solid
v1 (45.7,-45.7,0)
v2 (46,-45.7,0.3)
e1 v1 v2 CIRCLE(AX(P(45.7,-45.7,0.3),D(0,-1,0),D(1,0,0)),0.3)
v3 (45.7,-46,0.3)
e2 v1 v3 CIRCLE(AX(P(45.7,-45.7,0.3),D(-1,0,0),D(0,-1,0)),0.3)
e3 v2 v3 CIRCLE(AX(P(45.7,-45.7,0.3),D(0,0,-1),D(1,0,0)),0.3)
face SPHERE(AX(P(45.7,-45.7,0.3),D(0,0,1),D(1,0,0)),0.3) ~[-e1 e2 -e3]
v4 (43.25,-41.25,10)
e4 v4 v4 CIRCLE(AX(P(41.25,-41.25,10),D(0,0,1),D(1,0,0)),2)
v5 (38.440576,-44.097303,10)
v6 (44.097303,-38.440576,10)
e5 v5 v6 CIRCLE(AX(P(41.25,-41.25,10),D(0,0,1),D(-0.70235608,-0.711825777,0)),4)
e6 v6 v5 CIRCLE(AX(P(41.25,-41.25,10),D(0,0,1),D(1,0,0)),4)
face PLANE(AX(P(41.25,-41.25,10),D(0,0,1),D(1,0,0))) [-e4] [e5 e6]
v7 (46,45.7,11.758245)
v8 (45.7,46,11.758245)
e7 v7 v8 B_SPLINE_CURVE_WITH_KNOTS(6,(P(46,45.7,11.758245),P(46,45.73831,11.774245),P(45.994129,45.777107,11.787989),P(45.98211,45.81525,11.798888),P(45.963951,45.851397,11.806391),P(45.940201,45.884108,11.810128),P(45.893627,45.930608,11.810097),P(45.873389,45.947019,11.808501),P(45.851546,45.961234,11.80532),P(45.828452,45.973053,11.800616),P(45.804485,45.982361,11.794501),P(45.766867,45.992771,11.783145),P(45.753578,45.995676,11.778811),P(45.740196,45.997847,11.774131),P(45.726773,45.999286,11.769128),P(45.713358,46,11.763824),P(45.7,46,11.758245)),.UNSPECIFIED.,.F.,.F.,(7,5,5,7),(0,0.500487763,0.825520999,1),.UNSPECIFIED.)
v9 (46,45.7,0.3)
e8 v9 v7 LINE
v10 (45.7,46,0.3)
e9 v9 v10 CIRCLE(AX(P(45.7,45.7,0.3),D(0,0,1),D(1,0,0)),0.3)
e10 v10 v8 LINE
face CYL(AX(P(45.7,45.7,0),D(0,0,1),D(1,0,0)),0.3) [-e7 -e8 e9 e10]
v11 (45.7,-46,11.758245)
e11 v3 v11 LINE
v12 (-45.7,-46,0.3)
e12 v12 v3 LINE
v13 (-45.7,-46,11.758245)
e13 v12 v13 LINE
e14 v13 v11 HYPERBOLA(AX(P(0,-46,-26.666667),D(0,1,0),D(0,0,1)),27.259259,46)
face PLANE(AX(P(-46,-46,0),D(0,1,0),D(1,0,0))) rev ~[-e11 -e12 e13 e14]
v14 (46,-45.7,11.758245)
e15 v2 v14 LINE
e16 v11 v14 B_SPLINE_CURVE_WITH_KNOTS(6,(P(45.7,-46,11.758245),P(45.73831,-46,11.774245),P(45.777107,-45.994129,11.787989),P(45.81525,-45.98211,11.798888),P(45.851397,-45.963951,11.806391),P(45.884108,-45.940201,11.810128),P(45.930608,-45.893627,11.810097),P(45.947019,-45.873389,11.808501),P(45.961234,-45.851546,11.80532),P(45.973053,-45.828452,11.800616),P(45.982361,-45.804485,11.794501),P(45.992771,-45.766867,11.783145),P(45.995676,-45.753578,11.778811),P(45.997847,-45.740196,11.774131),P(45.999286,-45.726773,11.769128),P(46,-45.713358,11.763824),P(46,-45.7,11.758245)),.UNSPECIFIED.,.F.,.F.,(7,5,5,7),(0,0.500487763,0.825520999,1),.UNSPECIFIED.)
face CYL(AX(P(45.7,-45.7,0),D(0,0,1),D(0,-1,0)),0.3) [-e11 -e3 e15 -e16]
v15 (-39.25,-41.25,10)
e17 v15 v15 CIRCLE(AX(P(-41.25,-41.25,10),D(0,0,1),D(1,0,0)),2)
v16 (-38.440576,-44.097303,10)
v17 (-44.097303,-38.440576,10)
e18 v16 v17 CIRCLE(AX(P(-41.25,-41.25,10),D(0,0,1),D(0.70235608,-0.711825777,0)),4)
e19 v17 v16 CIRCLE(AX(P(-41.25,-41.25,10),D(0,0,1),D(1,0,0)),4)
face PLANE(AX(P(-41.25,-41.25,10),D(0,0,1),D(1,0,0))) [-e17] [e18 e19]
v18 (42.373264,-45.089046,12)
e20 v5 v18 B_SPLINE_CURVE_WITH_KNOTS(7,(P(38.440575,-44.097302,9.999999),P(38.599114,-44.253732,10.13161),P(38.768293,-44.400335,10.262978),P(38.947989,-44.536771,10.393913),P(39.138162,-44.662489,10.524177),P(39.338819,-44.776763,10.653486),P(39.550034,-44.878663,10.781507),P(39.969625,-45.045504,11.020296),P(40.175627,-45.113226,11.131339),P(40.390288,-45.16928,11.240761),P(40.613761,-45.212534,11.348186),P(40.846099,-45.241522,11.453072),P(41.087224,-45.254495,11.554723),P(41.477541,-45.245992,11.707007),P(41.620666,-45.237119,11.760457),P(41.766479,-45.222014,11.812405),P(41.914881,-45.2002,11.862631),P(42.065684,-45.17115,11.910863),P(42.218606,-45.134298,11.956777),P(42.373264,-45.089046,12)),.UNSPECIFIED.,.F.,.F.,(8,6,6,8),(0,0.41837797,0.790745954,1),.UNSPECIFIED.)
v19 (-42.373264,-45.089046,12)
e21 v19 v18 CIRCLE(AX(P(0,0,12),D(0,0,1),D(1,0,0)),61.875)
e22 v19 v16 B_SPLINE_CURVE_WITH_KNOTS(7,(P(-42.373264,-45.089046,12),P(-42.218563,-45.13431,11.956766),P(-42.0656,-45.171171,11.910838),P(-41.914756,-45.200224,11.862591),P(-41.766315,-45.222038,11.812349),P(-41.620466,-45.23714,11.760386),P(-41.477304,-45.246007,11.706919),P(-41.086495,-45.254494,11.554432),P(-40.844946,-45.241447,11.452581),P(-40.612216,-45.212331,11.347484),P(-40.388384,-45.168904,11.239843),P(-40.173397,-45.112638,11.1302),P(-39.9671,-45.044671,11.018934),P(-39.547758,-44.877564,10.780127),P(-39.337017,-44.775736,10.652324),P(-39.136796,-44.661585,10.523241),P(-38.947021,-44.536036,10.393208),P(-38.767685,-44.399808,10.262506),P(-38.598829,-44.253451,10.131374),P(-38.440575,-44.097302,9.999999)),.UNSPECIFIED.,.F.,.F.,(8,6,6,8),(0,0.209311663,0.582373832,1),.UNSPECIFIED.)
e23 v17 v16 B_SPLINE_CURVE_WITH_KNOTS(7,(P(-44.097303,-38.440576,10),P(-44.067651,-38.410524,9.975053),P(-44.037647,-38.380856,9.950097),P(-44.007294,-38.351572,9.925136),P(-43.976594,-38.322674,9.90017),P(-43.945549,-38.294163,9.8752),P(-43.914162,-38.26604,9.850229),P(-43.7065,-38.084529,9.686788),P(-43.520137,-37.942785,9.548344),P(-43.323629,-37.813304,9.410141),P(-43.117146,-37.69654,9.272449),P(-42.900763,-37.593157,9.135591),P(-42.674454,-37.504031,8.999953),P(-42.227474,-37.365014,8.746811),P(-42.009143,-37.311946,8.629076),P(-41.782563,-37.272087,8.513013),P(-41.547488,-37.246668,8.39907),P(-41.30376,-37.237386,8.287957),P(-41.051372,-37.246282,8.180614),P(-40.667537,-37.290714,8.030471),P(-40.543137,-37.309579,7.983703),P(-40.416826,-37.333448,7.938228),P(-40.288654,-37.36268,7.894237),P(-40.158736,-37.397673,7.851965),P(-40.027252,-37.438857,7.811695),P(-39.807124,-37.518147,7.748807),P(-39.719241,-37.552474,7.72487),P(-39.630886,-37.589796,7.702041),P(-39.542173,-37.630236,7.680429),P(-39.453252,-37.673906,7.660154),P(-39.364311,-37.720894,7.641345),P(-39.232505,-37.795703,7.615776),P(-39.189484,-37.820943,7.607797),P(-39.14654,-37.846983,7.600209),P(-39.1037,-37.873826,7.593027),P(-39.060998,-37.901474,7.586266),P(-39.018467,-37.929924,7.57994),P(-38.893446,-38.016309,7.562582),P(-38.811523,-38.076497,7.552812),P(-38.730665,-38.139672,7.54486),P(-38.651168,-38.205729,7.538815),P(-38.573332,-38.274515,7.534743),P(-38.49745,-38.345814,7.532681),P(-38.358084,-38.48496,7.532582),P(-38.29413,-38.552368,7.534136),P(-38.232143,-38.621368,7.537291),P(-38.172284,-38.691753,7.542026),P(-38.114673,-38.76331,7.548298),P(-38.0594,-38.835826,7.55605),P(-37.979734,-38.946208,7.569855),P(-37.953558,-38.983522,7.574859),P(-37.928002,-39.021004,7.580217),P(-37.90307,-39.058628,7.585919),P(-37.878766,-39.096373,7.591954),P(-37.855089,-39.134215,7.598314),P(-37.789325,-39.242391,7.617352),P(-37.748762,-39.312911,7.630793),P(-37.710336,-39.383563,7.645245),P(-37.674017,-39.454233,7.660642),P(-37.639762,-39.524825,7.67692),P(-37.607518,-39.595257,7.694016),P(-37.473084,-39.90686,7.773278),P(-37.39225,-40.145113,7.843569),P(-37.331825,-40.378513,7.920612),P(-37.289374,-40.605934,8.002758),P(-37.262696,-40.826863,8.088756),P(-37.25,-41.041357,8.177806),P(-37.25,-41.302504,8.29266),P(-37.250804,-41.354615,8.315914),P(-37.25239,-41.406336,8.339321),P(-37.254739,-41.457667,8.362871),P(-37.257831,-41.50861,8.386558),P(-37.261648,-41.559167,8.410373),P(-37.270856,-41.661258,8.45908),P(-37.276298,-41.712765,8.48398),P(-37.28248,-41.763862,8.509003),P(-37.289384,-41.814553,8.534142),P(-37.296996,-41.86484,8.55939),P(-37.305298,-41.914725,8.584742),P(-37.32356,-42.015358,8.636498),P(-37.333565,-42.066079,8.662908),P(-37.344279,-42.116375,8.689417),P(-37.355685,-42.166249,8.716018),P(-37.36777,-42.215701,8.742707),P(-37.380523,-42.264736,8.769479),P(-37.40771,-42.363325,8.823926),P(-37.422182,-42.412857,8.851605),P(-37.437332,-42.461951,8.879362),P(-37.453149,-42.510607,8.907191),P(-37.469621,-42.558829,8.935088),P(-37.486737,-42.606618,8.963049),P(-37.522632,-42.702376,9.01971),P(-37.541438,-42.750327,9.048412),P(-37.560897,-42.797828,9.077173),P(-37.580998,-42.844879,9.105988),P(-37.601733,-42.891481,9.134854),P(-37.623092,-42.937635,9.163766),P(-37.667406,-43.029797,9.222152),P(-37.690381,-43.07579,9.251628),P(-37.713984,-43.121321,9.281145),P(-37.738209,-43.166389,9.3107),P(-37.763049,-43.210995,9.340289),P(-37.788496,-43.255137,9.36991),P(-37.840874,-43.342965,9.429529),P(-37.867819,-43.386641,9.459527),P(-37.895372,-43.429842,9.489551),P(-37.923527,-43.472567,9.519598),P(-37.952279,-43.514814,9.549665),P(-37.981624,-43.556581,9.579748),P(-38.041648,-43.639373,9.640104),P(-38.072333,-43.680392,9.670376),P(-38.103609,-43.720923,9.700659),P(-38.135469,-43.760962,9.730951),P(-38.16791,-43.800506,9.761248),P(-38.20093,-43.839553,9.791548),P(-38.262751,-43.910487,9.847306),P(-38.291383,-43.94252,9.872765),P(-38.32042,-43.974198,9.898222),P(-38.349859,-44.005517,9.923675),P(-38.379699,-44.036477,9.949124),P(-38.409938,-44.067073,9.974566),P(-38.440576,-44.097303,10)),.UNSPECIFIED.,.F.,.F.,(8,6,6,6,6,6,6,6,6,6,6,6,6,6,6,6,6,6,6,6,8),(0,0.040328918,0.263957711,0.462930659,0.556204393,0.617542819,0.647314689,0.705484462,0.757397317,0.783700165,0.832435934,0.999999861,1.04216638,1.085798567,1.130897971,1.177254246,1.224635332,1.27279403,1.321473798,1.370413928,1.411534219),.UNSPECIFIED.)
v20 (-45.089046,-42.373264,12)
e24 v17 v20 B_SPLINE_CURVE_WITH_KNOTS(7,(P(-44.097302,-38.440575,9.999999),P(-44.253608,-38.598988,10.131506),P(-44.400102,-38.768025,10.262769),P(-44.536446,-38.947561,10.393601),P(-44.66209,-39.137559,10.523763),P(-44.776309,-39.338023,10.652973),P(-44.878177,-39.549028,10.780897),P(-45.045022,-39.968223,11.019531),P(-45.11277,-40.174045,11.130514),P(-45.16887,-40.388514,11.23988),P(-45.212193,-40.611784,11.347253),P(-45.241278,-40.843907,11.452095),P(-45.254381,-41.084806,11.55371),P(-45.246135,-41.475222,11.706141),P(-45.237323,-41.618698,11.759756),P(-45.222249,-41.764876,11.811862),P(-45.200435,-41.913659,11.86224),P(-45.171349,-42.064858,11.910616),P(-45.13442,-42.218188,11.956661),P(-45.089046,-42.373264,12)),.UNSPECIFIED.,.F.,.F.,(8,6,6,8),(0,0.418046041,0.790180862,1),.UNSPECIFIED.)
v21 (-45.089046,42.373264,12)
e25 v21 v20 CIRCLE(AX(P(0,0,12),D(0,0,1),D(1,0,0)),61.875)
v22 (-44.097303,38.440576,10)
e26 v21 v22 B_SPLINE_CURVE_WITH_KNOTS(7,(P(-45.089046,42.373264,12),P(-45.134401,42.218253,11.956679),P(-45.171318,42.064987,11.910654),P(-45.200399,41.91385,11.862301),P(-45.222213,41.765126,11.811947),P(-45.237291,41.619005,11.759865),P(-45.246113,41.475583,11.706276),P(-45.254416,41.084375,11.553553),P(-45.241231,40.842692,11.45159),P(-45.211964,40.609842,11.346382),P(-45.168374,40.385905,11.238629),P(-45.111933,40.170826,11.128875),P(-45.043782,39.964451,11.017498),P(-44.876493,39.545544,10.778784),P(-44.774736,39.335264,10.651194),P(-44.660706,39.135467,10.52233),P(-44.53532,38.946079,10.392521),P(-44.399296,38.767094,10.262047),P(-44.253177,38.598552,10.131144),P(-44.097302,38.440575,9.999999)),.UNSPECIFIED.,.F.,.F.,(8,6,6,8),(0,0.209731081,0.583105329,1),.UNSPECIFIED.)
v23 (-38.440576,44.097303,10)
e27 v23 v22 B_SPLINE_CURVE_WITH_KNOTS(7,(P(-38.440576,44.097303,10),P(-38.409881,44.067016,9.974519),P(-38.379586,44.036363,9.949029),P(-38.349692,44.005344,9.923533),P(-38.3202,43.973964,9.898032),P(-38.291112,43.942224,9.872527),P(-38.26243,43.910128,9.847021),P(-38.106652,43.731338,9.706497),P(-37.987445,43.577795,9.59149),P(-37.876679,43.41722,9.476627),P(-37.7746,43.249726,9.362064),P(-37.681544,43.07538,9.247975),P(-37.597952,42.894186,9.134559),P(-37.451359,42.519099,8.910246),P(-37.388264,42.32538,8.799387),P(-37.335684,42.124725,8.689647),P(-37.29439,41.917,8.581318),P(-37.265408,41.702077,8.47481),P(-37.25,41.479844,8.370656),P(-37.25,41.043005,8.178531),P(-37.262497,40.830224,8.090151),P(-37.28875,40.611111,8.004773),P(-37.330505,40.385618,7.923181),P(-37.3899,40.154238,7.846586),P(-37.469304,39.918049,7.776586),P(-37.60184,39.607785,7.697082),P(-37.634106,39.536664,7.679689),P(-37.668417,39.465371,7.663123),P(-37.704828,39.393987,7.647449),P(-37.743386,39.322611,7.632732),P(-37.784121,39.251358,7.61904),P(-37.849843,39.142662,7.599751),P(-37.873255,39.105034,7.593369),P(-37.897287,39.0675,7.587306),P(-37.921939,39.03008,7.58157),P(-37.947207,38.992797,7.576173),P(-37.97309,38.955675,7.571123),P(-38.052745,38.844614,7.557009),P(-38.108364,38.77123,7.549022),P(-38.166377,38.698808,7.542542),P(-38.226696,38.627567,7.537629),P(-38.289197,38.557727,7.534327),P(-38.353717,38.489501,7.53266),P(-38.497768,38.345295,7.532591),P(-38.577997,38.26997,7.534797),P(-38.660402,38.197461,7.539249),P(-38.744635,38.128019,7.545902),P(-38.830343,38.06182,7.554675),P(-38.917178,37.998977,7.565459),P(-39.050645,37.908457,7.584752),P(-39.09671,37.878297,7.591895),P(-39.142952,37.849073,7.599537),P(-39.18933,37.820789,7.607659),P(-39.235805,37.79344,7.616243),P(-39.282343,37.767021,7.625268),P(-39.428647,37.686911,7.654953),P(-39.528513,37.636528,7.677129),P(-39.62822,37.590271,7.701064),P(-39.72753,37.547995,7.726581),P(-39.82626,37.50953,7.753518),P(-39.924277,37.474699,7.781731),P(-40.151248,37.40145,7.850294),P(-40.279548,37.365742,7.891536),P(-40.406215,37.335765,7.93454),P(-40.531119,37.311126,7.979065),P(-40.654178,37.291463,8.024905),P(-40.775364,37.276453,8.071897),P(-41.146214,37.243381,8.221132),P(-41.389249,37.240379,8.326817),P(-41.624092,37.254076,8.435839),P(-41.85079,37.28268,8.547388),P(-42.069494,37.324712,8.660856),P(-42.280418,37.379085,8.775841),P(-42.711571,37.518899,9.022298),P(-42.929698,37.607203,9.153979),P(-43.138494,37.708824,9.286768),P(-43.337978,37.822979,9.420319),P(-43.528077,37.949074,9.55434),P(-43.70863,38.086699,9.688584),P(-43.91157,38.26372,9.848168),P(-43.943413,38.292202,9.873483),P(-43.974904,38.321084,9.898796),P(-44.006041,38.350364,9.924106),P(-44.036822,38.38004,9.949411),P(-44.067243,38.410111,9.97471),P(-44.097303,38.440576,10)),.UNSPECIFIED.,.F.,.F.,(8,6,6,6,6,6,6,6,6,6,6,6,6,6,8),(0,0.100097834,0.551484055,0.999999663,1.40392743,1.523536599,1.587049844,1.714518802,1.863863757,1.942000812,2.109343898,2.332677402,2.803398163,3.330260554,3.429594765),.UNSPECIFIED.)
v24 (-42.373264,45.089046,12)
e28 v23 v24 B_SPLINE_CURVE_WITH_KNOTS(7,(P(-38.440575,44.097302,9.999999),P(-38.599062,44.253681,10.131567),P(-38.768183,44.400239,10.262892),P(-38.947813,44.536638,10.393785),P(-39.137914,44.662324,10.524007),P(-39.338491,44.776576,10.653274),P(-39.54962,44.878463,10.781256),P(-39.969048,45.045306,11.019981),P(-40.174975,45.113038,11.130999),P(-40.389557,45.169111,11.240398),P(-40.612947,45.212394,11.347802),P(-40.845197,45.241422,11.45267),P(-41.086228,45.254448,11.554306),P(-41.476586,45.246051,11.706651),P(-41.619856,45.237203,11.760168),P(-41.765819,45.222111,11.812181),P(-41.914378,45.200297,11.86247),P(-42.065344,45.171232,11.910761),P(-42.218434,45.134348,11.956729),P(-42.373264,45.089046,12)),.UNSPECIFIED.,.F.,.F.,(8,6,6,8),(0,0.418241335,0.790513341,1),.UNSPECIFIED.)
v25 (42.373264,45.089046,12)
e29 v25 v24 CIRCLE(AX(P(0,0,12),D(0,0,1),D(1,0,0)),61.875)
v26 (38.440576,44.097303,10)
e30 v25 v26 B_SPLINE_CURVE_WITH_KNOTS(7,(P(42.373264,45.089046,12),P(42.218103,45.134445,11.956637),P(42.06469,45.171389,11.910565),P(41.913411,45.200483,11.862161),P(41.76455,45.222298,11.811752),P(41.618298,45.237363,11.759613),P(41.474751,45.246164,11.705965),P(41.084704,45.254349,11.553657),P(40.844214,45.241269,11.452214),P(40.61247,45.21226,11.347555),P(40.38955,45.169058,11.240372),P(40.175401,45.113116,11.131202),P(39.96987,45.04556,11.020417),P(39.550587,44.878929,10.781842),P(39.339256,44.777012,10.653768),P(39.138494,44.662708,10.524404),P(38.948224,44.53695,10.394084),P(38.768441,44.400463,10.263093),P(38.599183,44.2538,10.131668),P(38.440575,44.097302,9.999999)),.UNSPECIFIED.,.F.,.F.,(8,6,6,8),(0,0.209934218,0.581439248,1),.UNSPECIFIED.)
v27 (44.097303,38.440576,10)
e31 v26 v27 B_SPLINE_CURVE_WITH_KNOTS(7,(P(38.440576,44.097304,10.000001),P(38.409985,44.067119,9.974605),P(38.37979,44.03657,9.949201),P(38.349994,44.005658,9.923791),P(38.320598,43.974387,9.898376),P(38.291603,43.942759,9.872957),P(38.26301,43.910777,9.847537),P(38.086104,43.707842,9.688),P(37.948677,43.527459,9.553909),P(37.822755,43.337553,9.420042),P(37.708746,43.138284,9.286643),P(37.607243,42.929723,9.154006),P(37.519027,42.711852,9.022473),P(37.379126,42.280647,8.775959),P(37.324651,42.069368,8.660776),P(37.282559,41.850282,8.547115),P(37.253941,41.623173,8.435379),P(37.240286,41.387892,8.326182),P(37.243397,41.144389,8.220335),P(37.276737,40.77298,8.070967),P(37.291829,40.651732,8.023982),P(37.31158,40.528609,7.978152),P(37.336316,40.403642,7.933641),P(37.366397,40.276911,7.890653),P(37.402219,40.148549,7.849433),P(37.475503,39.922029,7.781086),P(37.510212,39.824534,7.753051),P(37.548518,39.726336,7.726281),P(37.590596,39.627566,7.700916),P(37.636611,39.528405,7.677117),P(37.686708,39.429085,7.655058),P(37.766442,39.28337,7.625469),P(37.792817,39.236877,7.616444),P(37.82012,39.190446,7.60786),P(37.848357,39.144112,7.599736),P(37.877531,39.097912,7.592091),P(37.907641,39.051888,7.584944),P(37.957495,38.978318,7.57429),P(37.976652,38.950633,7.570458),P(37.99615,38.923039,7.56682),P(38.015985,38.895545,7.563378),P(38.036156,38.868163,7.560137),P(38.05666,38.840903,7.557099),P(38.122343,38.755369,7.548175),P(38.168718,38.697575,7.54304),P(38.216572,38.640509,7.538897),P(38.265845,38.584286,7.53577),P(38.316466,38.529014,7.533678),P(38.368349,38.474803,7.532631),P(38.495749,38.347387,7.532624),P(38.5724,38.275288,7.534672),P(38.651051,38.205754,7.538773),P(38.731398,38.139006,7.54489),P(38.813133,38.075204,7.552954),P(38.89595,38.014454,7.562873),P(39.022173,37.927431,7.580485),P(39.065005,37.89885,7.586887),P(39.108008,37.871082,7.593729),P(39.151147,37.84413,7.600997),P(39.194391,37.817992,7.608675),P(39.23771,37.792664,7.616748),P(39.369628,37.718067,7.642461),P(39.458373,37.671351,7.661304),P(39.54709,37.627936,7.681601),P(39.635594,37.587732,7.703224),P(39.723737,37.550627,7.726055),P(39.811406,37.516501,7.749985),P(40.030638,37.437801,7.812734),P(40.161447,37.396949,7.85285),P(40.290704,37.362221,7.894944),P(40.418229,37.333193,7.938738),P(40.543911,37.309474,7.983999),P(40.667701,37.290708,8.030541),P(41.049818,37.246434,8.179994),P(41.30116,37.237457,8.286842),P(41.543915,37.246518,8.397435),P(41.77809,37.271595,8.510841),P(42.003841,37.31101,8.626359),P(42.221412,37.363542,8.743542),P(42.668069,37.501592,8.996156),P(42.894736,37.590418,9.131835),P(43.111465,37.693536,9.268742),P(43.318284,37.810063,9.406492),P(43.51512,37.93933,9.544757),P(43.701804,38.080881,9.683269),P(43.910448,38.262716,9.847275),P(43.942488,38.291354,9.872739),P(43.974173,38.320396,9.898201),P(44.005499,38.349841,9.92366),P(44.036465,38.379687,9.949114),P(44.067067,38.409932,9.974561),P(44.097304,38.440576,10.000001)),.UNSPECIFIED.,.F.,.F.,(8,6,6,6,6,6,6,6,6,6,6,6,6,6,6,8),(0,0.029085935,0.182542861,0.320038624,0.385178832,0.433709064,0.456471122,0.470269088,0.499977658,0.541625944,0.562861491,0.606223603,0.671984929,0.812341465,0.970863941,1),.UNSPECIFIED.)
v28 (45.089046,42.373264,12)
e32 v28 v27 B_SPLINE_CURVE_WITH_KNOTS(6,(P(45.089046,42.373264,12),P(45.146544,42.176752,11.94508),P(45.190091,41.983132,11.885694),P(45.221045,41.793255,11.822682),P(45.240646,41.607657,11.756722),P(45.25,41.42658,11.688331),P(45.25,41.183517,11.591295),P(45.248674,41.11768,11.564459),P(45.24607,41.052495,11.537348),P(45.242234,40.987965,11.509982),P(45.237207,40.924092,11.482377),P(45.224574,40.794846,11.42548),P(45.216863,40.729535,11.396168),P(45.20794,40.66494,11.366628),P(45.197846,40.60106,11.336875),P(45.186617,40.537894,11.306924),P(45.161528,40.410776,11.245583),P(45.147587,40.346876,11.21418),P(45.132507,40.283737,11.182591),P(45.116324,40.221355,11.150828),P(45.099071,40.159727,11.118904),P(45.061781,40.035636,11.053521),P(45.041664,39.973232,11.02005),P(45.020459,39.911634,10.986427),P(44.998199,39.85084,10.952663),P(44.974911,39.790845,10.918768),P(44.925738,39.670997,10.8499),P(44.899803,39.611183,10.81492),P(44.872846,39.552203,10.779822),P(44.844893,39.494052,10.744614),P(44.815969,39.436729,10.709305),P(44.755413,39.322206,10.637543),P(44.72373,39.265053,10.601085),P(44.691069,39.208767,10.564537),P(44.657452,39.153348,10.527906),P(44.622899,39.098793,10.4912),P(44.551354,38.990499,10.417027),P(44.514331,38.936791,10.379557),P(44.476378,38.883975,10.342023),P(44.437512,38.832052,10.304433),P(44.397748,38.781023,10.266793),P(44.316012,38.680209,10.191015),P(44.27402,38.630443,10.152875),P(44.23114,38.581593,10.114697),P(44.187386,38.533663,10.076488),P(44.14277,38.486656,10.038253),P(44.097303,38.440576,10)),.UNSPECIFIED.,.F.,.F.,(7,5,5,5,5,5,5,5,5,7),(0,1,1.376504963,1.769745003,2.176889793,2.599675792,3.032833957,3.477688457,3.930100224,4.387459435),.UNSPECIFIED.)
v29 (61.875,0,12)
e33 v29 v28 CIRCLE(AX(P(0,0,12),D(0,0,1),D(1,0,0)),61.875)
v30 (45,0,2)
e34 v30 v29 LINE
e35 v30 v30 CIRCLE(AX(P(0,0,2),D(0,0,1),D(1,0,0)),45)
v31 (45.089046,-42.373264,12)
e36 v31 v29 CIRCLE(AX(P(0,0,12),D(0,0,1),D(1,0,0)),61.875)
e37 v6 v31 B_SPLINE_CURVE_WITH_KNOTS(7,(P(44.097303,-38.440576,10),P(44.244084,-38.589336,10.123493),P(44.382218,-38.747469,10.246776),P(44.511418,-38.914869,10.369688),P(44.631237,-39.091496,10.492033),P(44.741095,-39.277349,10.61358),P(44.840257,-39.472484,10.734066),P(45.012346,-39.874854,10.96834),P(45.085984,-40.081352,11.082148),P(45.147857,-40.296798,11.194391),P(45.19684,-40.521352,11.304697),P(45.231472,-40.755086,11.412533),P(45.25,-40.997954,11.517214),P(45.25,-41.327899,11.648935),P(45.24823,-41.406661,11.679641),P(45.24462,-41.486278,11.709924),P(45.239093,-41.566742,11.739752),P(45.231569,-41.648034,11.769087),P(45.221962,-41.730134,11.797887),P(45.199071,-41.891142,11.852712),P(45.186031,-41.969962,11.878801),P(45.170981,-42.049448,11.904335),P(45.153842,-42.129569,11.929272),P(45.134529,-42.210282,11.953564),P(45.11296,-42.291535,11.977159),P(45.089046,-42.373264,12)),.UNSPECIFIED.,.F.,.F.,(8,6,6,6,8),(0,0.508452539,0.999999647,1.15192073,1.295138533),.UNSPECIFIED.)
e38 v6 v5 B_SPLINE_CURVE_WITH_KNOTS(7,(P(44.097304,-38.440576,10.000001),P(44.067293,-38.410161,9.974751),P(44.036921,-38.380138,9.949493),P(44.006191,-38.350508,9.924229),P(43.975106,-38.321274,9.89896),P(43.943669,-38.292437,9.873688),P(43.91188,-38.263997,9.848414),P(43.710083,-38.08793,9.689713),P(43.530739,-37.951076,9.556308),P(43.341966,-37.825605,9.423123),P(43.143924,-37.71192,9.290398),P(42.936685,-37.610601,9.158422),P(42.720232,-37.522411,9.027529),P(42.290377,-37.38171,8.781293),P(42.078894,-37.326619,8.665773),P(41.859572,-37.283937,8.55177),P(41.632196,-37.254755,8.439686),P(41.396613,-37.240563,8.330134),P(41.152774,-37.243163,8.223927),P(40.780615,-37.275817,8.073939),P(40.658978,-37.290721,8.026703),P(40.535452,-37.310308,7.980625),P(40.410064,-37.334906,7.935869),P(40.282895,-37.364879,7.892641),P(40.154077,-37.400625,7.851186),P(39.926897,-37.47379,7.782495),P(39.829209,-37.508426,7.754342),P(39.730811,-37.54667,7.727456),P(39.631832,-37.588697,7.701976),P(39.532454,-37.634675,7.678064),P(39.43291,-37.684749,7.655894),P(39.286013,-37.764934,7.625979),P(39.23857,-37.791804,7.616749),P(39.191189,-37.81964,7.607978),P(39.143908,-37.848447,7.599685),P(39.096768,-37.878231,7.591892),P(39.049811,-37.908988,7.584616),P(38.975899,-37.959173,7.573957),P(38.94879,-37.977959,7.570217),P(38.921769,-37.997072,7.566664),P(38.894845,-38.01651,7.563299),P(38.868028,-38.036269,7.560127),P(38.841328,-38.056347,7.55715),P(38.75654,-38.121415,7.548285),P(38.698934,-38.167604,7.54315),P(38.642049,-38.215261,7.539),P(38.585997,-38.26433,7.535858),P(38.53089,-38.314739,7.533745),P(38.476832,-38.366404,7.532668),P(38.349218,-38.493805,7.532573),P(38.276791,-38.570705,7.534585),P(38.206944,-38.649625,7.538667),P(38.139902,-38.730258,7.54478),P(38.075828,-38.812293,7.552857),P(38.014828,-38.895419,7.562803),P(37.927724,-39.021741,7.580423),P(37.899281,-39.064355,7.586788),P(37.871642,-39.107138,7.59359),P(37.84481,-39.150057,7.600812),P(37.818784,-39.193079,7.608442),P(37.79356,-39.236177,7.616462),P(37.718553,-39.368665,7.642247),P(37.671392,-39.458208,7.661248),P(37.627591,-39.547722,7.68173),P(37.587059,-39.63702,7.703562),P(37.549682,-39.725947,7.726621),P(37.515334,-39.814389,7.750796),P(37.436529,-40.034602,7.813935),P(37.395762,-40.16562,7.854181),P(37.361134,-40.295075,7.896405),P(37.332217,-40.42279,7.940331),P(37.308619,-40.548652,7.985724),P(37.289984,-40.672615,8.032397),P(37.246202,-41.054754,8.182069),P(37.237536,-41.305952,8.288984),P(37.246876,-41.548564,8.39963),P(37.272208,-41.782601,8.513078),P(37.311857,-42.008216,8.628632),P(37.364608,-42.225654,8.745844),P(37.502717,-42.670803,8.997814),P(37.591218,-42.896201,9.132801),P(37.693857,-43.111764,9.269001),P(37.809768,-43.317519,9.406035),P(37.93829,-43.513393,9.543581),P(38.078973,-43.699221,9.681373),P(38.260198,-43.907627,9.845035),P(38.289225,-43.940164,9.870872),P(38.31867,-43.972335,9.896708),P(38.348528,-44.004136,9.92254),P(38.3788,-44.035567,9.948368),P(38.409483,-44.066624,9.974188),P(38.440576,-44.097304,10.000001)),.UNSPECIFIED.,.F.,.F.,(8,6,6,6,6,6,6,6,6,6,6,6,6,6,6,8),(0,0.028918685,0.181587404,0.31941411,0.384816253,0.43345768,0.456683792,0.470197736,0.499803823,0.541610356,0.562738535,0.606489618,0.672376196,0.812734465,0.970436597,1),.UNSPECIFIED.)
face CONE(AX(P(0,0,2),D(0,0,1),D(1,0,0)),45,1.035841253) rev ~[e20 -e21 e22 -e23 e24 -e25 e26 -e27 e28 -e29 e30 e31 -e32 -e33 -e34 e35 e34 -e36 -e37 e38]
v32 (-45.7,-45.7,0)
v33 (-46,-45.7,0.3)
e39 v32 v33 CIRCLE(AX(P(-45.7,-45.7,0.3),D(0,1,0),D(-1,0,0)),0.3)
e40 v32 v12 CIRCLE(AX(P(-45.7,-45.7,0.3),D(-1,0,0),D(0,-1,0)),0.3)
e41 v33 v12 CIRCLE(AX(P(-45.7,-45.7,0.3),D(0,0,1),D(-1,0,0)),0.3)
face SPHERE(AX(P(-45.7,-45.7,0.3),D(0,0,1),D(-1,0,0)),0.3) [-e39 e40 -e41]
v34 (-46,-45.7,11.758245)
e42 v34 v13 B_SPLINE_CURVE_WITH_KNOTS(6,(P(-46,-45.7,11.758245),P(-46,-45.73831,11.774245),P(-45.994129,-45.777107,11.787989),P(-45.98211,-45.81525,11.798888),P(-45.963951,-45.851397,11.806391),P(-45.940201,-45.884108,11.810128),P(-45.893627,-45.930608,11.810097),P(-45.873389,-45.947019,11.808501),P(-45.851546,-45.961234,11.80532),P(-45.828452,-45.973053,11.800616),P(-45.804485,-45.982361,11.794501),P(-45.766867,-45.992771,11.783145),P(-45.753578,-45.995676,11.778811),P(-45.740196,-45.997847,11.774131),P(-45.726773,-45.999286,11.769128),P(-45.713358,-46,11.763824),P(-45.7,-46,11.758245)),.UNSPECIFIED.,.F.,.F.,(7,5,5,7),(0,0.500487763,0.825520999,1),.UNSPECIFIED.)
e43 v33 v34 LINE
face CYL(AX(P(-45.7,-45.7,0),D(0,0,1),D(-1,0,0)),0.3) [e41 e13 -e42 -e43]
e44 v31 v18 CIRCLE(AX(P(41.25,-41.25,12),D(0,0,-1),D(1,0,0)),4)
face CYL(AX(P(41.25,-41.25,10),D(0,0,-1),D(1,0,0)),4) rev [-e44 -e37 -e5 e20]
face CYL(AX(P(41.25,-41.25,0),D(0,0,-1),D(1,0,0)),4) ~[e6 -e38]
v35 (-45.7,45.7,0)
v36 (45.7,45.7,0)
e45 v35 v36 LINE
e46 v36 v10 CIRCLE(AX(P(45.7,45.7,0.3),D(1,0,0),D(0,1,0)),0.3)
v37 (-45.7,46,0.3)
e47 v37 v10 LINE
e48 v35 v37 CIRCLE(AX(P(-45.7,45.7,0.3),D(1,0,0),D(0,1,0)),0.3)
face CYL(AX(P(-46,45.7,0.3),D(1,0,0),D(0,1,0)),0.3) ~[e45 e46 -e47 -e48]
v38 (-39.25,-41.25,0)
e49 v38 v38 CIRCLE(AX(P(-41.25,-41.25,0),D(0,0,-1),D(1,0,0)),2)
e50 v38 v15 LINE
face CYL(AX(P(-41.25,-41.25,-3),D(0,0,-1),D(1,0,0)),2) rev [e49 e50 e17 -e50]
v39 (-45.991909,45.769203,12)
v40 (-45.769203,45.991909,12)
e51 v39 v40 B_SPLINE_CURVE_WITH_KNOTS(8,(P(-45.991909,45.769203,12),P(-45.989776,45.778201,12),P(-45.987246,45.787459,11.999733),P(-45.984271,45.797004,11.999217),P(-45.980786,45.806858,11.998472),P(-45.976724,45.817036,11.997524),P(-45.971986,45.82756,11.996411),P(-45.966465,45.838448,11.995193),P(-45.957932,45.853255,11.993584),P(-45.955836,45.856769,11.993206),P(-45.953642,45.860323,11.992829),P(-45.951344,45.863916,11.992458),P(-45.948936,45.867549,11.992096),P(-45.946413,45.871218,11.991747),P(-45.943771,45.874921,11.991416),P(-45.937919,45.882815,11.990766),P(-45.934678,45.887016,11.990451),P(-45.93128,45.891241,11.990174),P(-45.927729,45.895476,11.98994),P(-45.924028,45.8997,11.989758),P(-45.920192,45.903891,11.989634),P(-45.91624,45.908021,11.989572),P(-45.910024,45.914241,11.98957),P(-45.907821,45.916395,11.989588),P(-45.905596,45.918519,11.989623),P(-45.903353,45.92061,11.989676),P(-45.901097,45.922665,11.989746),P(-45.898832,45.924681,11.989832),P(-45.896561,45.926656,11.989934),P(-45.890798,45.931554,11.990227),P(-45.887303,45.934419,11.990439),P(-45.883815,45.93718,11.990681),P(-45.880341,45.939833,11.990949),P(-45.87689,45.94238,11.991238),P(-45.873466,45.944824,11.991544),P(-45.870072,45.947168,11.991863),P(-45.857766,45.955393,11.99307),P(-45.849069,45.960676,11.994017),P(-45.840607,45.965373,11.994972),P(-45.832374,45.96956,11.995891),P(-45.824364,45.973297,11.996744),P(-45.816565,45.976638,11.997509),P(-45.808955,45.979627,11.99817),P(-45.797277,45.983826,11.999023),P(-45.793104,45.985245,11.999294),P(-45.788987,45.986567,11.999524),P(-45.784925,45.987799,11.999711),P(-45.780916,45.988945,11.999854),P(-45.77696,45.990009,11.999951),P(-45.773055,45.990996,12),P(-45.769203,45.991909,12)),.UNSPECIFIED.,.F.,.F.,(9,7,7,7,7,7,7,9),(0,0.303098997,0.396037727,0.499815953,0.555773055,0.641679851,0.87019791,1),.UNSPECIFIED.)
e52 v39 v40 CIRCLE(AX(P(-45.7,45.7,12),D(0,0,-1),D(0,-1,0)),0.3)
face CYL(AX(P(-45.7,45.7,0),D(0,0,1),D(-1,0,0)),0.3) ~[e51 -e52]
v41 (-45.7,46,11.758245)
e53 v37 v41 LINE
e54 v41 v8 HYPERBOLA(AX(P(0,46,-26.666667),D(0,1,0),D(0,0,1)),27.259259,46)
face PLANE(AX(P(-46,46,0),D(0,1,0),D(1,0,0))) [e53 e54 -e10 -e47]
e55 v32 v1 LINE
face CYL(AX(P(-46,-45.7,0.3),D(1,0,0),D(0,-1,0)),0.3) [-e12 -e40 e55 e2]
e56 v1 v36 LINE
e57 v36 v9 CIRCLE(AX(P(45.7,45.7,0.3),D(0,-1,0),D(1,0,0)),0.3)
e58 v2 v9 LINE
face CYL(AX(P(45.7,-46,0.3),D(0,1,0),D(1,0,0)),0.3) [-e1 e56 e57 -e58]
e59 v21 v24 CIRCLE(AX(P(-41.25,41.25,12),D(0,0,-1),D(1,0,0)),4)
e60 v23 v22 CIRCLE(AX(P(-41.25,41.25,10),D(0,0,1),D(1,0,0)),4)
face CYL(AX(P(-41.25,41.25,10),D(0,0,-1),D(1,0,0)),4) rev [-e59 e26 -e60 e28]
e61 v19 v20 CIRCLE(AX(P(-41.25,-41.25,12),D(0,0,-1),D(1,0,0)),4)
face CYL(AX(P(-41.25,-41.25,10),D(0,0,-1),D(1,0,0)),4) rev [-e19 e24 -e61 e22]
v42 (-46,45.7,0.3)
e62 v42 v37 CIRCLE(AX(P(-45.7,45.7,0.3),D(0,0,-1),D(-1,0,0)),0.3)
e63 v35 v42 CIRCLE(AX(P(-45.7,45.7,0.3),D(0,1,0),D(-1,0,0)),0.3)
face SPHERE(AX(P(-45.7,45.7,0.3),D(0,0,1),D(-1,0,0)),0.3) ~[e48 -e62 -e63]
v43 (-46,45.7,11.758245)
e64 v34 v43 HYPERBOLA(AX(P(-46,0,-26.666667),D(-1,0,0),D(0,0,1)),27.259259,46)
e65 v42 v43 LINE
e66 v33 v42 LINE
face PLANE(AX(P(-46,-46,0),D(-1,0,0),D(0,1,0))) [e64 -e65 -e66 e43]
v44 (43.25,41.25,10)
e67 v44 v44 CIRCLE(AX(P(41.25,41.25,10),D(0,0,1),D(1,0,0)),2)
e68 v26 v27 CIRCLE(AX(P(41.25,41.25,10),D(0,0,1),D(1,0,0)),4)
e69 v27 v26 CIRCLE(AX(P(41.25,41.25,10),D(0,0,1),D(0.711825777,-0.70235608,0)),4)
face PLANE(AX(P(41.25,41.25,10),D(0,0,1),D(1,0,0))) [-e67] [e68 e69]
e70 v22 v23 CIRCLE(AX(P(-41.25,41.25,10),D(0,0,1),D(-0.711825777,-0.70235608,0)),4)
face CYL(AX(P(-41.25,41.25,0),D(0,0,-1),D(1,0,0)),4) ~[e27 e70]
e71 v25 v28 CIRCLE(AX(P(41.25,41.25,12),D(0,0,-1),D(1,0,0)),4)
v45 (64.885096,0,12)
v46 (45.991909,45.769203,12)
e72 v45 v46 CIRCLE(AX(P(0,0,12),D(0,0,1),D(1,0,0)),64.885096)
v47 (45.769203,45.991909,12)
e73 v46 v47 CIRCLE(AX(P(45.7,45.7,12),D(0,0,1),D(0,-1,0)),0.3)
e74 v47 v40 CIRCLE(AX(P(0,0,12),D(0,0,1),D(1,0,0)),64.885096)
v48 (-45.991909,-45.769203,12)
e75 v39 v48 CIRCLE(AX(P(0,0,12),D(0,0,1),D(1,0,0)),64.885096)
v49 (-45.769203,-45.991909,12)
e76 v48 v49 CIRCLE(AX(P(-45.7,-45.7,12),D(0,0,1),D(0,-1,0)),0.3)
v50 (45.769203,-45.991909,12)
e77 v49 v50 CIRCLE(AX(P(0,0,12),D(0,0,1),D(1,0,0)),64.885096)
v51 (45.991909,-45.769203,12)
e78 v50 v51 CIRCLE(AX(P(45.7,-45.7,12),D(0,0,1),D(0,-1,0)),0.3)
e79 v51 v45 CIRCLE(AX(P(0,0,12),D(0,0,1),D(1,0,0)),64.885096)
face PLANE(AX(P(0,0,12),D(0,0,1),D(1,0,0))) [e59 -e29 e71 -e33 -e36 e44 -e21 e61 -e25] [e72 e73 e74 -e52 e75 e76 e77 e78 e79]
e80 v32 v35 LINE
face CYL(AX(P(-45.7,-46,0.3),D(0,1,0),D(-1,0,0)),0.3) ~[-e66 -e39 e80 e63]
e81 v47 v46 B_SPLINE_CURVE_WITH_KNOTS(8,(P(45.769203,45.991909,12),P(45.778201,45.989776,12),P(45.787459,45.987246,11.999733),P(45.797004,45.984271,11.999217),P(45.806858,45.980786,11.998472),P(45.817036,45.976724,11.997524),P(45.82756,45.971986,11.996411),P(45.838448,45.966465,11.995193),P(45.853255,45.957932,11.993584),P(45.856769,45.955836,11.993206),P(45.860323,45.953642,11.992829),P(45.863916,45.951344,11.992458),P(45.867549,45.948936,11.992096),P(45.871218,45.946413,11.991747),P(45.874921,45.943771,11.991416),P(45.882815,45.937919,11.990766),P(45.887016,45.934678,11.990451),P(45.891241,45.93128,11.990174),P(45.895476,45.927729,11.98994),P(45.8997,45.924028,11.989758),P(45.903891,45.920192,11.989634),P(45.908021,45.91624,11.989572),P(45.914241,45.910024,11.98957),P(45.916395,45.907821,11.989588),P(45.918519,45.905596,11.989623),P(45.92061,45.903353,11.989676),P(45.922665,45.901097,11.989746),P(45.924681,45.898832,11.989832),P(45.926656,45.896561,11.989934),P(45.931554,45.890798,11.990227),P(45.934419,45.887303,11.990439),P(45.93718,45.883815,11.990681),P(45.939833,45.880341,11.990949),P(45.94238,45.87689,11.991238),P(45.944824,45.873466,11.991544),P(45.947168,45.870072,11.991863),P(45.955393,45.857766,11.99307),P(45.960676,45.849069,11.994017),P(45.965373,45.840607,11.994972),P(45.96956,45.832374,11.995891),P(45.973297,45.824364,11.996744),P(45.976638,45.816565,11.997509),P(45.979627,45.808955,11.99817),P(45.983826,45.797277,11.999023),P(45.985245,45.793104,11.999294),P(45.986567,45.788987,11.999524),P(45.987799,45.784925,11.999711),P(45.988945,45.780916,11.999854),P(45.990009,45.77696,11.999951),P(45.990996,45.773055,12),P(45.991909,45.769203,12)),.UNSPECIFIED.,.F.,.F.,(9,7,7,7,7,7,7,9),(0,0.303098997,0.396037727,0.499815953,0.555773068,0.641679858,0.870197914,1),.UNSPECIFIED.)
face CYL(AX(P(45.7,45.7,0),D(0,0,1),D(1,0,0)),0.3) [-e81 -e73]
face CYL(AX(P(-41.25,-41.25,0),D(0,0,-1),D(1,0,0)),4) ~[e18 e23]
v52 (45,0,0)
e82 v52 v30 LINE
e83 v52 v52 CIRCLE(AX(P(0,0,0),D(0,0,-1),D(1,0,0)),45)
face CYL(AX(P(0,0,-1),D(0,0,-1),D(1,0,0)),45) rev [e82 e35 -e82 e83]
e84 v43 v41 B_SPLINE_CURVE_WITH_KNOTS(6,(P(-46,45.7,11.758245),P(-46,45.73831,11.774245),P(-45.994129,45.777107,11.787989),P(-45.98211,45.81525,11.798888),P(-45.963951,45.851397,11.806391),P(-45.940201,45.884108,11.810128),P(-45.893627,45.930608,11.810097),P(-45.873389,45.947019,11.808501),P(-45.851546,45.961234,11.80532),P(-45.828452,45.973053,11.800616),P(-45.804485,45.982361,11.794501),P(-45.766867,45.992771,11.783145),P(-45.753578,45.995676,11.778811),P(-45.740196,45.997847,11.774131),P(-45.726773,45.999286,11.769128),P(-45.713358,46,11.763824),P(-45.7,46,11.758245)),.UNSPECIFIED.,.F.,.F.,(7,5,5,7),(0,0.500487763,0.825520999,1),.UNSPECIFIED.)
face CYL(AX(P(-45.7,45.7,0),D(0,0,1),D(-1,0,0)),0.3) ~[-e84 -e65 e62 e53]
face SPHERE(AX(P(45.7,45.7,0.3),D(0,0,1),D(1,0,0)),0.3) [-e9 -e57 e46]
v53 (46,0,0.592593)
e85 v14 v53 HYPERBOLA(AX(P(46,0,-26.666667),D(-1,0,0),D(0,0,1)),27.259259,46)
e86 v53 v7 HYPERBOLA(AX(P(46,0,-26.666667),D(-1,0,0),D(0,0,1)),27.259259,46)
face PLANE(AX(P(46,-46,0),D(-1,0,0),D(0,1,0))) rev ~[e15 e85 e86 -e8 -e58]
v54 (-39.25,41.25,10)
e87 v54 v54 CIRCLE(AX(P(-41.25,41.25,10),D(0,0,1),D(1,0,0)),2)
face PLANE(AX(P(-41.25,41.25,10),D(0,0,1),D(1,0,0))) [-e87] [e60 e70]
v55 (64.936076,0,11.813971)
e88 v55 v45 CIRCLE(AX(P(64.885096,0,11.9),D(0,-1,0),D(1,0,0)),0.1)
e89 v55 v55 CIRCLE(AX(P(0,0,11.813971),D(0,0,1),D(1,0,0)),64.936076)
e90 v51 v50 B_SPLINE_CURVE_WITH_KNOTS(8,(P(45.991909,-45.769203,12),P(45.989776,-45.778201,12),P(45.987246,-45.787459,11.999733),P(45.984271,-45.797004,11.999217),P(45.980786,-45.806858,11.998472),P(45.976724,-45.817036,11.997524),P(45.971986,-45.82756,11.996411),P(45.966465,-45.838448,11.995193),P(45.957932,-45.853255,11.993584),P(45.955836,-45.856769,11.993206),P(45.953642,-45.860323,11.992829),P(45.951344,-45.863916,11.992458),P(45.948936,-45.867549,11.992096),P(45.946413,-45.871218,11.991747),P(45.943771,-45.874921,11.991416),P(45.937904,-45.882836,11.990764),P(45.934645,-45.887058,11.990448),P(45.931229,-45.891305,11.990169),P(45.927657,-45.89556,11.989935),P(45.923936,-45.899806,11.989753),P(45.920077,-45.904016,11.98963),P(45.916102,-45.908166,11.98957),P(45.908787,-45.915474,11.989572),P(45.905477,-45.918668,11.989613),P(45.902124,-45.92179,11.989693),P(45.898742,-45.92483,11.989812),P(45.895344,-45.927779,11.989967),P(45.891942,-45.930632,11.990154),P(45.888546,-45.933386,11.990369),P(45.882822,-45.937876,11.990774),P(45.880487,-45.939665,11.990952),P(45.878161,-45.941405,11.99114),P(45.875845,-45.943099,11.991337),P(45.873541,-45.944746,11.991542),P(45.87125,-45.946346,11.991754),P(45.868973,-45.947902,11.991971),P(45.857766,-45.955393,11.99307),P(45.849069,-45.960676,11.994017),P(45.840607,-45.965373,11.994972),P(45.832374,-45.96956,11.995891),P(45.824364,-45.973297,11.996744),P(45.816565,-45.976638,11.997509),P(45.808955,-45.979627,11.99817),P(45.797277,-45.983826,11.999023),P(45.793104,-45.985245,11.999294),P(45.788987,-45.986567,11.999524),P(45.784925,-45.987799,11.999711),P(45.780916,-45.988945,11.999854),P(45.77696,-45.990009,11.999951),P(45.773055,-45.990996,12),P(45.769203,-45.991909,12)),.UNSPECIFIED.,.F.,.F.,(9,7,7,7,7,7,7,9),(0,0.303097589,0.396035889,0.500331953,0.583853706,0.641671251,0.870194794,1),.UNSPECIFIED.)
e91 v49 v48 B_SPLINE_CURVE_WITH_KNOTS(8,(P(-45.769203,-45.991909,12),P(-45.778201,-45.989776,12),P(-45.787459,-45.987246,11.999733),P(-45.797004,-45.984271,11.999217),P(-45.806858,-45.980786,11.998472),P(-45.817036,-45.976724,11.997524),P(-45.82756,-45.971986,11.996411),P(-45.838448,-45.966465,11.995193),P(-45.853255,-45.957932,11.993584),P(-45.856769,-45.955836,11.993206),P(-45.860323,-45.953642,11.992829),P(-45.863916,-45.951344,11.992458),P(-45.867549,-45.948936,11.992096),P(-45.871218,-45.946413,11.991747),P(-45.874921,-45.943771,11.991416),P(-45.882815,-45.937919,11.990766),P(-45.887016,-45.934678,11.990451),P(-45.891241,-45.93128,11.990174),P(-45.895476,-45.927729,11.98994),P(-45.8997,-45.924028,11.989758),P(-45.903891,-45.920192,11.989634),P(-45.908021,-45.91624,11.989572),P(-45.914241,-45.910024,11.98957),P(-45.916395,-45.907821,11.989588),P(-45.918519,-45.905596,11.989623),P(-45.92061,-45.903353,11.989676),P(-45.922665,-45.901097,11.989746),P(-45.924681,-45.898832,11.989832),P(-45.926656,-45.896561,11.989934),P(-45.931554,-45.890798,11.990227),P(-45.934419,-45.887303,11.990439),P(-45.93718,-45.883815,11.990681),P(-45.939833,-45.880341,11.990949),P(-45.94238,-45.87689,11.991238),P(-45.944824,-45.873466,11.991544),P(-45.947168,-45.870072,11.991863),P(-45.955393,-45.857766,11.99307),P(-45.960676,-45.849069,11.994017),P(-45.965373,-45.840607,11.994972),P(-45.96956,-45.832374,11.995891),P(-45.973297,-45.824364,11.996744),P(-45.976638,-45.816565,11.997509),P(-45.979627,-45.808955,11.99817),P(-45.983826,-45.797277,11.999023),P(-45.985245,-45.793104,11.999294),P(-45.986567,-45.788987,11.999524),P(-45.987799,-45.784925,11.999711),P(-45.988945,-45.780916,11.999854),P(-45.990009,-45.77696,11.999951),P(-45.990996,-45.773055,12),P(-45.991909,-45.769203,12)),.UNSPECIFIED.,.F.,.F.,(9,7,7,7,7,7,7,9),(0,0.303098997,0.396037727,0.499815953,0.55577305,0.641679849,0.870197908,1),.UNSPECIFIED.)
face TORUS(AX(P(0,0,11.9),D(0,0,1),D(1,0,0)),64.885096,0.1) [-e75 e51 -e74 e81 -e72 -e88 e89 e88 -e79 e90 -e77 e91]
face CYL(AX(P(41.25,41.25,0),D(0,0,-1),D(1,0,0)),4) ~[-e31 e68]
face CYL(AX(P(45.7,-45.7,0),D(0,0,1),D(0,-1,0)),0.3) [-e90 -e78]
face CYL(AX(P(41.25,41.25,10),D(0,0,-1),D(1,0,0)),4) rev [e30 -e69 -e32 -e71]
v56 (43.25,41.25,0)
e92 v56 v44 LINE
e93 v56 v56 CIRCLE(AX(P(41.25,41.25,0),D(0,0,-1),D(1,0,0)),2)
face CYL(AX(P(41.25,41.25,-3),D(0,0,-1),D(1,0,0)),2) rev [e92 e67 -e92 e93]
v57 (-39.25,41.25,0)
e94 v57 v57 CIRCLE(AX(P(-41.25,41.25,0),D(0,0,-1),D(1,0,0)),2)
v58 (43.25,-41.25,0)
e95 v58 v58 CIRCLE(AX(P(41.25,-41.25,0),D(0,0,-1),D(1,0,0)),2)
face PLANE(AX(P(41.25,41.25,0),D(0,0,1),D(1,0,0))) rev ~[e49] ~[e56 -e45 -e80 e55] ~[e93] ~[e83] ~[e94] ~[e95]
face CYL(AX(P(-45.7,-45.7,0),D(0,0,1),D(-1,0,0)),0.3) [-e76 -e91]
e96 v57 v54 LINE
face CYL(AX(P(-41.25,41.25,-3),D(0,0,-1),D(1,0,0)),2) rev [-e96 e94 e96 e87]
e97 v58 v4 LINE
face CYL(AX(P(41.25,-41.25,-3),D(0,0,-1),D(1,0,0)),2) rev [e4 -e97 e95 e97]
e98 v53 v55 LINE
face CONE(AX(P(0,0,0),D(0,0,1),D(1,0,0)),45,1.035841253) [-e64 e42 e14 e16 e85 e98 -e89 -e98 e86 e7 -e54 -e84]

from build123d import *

# Parameters (mm, degrees)
CYLINDER009_R     = 4
CYLINDER009_DEPTH = 4
CYLINDER011_R     = 4
CYLINDER011_DEPTH = 4
CYLINDER010_R     = 4
CYLINDER010_DEPTH = 4
CYLINDER012_R     = 4
CYLINDER012_DEPTH = 4
CYLINDER007_R     = 2
CYLINDER007_DEPTH = 17
CYLINDER005_R     = 2
CYLINDER005_DEPTH = 17
CYLINDER006_R     = 2
CYLINDER006_DEPTH = 17
CYLINDER008_R     = 2
CYLINDER008_DEPTH = 17
CYLINDER004_R     = 4
CYLINDER004_DEPTH = 10
CYLINDER003_R     = 4
CYLINDER003_DEPTH = 10
CYLINDER002_R     = 4
CYLINDER002_DEPTH = 10
CYLINDER001_R     = 4
CYLINDER001_DEPTH = 10
CYLINDER_R        = 45
CYLINDER_DEPTH    = 15
FILLET001_R       = 0.1
BOX_W             = 92
BOX_H             = 92
BOX_DEPTH         = 12
FILLET_R          = 0.3


with BuildPart() as cylinder009:
    # Cylinder009 → Cylinder009 (new body)
    with BuildSketch(Plane(origin=(41.25, 41.25, 10), x_dir=(1, 0, 0), z_dir=(0, 0, 1))):
        Circle(CYLINDER009_R)
    extrude(amount=CYLINDER009_DEPTH)


with BuildPart() as cylinder011:
    # Cylinder011 → Cylinder011 (new body)
    with BuildSketch(Plane(origin=(-41.25, -41.25, 10), x_dir=(1, 0, 0), z_dir=(0, 0, 1))):
        Circle(CYLINDER011_R)
    extrude(amount=CYLINDER011_DEPTH)


with BuildPart() as cylinder010:
    # Cylinder010 → Cylinder010 (new body)
    with BuildSketch(Plane(origin=(-41.25, 41.25, 10), x_dir=(1, 0, 0), z_dir=(0, 0, 1))):
        Circle(CYLINDER010_R)
    extrude(amount=CYLINDER010_DEPTH)


with BuildPart() as fusion004:
    # Cylinder012 → Cylinder012 (new body)
    with BuildSketch(Plane(origin=(41.25, -41.25, 10), x_dir=(1, 0, 0), z_dir=(0, 0, 1))):
        Circle(CYLINDER012_R)
    extrude(amount=CYLINDER012_DEPTH)

    # Fusion004: union Cylinder009, Cylinder011, Cylinder010
    add(cylinder009.part)
    add(cylinder011.part)
    add(cylinder010.part)


with BuildPart() as cylinder007:
    # Cylinder007 → Cylinder007 (new body)
    with BuildSketch(Plane(origin=(41.25, -41.25, -3), x_dir=(1, 0, 0), z_dir=(0, 0, 1))):
        Circle(CYLINDER007_R)
    extrude(amount=CYLINDER007_DEPTH)


with BuildPart() as cylinder005:
    # Cylinder005 → Cylinder005 (new body)
    with BuildSketch(Plane(origin=(41.25, 41.25, -3), x_dir=(1, 0, 0), z_dir=(0, 0, 1))):
        Circle(CYLINDER005_R)
    extrude(amount=CYLINDER005_DEPTH)


with BuildPart() as cylinder006:
    # Cylinder006 → Cylinder006 (new body)
    with BuildSketch(Plane(origin=(-41.25, 41.25, -3), x_dir=(1, 0, 0), z_dir=(0, 0, 1))):
        Circle(CYLINDER006_R)
    extrude(amount=CYLINDER006_DEPTH)


with BuildPart() as fusion003:
    # Cylinder008 → Cylinder008 (new body)
    with BuildSketch(Plane(origin=(-41.25, -41.25, -3), x_dir=(1, 0, 0), z_dir=(0, 0, 1))):
        Circle(CYLINDER008_R)
    extrude(amount=CYLINDER008_DEPTH)

    # Fusion003: union Cylinder007, Cylinder005, Cylinder006
    add(cylinder007.part)
    add(cylinder005.part)
    add(cylinder006.part)


with BuildPart() as cylinder004:
    # Cylinder004 → Cylinder004 (new body)
    with BuildSketch(Plane(origin=(-41.25, -41.25, 0), x_dir=(1, 0, 0), z_dir=(0, 0, 1))):
        Circle(CYLINDER004_R)
    extrude(amount=CYLINDER004_DEPTH)


with BuildPart() as cylinder003:
    # Cylinder003 → Cylinder003 (new body)
    with BuildSketch(Plane(origin=(41.25, -41.25, 0), x_dir=(1, 0, 0), z_dir=(0, 0, 1))):
        Circle(CYLINDER003_R)
    extrude(amount=CYLINDER003_DEPTH)


with BuildPart() as cylinder002:
    # Cylinder002 → Cylinder002 (new body)
    with BuildSketch(Plane(origin=(-41.25, 41.25, 0), x_dir=(1, 0, 0), z_dir=(0, 0, 1))):
        Circle(CYLINDER002_R)
    extrude(amount=CYLINDER002_DEPTH)


with BuildPart() as cylinder001:
    # Cylinder001 → Cylinder001 (new body)
    with BuildSketch(Plane(origin=(41.25, 41.25, 0), x_dir=(1, 0, 0), z_dir=(0, 0, 1))):
        Circle(CYLINDER001_R)
    extrude(amount=CYLINDER001_DEPTH)


with BuildPart() as cone001:
    # Cone001 → Cone001 (revolve)
    with BuildSketch(Plane(origin=(0, 0, 2), x_dir=(1, 0, 0), z_dir=(0, -1, 0))):
        Polygon((0, 0), (45, 0), (65.25, 12), (0, 12), align=None)
    revolve(axis=Axis((0, 0, 2), (0, 0, 1)))


with BuildPart() as void:
    # Cylinder → Cylinder (new body)
    with BuildSketch(Plane.XY.offset(-1)):
        Circle(CYLINDER_R)
    extrude(amount=CYLINDER_DEPTH)

    # Fusion001: union Cone001
    add(cone001.part)


with BuildPart() as fillet001:
    # Cone → Cone (revolve)
    with BuildSketch(Plane.XZ):
        Polygon((0, 0), (45, 0), (65.25, 12), (0, 12), align=None)
    revolve(axis=Axis((0, 0, 0), (0, 0, 1)))

    # Fillet001
    fillet001_edges = [fillet001.edges().sort_by_distance(p)[0] for p in [
        (-65.25, 0, 12),
    ]]
    fillet(fillet001_edges, radius=FILLET001_R)


with BuildPart() as cut002:
    # Box → Box (new body)
    with BuildSketch(Plane(origin=(-46, -46, 0), x_dir=(1, 0, 0), z_dir=(0, 0, 1))):
        with Locations((46, 46)):
            Rectangle(BOX_W, BOX_H)
    extrude(amount=BOX_DEPTH)

    # Fillet
    fillet_edges = [cut002.edges().sort_by_distance(p)[0] for p in [
        (-46, -46, 6),
        (-46, 46, 6),
        (-46, 0, 0),
        (46, -46, 6),
        (46, 46, 6),
        (46, 0, 0),
        (0, -46, 0),
        (0, 46, 0),
    ]]
    fillet(fillet_edges, radius=FILLET_R)

    # Fusion: union Fillet001
    add(fillet001.part)

    # Cut: cut void
    add(void.part, mode=Mode.SUBTRACT)

    # Fusion002: union Cylinder004, Cylinder003, Cylinder002, Cylinder001
    add(cylinder004.part)
    add(cylinder003.part)
    add(cylinder002.part)
    add(cylinder001.part)

    # Cut001: cut Fusion003
    add(fusion003.part, mode=Mode.SUBTRACT)

    # Cut002: cut Fusion004
    add(fusion004.part, mode=Mode.SUBTRACT)


solid = cut002.part
